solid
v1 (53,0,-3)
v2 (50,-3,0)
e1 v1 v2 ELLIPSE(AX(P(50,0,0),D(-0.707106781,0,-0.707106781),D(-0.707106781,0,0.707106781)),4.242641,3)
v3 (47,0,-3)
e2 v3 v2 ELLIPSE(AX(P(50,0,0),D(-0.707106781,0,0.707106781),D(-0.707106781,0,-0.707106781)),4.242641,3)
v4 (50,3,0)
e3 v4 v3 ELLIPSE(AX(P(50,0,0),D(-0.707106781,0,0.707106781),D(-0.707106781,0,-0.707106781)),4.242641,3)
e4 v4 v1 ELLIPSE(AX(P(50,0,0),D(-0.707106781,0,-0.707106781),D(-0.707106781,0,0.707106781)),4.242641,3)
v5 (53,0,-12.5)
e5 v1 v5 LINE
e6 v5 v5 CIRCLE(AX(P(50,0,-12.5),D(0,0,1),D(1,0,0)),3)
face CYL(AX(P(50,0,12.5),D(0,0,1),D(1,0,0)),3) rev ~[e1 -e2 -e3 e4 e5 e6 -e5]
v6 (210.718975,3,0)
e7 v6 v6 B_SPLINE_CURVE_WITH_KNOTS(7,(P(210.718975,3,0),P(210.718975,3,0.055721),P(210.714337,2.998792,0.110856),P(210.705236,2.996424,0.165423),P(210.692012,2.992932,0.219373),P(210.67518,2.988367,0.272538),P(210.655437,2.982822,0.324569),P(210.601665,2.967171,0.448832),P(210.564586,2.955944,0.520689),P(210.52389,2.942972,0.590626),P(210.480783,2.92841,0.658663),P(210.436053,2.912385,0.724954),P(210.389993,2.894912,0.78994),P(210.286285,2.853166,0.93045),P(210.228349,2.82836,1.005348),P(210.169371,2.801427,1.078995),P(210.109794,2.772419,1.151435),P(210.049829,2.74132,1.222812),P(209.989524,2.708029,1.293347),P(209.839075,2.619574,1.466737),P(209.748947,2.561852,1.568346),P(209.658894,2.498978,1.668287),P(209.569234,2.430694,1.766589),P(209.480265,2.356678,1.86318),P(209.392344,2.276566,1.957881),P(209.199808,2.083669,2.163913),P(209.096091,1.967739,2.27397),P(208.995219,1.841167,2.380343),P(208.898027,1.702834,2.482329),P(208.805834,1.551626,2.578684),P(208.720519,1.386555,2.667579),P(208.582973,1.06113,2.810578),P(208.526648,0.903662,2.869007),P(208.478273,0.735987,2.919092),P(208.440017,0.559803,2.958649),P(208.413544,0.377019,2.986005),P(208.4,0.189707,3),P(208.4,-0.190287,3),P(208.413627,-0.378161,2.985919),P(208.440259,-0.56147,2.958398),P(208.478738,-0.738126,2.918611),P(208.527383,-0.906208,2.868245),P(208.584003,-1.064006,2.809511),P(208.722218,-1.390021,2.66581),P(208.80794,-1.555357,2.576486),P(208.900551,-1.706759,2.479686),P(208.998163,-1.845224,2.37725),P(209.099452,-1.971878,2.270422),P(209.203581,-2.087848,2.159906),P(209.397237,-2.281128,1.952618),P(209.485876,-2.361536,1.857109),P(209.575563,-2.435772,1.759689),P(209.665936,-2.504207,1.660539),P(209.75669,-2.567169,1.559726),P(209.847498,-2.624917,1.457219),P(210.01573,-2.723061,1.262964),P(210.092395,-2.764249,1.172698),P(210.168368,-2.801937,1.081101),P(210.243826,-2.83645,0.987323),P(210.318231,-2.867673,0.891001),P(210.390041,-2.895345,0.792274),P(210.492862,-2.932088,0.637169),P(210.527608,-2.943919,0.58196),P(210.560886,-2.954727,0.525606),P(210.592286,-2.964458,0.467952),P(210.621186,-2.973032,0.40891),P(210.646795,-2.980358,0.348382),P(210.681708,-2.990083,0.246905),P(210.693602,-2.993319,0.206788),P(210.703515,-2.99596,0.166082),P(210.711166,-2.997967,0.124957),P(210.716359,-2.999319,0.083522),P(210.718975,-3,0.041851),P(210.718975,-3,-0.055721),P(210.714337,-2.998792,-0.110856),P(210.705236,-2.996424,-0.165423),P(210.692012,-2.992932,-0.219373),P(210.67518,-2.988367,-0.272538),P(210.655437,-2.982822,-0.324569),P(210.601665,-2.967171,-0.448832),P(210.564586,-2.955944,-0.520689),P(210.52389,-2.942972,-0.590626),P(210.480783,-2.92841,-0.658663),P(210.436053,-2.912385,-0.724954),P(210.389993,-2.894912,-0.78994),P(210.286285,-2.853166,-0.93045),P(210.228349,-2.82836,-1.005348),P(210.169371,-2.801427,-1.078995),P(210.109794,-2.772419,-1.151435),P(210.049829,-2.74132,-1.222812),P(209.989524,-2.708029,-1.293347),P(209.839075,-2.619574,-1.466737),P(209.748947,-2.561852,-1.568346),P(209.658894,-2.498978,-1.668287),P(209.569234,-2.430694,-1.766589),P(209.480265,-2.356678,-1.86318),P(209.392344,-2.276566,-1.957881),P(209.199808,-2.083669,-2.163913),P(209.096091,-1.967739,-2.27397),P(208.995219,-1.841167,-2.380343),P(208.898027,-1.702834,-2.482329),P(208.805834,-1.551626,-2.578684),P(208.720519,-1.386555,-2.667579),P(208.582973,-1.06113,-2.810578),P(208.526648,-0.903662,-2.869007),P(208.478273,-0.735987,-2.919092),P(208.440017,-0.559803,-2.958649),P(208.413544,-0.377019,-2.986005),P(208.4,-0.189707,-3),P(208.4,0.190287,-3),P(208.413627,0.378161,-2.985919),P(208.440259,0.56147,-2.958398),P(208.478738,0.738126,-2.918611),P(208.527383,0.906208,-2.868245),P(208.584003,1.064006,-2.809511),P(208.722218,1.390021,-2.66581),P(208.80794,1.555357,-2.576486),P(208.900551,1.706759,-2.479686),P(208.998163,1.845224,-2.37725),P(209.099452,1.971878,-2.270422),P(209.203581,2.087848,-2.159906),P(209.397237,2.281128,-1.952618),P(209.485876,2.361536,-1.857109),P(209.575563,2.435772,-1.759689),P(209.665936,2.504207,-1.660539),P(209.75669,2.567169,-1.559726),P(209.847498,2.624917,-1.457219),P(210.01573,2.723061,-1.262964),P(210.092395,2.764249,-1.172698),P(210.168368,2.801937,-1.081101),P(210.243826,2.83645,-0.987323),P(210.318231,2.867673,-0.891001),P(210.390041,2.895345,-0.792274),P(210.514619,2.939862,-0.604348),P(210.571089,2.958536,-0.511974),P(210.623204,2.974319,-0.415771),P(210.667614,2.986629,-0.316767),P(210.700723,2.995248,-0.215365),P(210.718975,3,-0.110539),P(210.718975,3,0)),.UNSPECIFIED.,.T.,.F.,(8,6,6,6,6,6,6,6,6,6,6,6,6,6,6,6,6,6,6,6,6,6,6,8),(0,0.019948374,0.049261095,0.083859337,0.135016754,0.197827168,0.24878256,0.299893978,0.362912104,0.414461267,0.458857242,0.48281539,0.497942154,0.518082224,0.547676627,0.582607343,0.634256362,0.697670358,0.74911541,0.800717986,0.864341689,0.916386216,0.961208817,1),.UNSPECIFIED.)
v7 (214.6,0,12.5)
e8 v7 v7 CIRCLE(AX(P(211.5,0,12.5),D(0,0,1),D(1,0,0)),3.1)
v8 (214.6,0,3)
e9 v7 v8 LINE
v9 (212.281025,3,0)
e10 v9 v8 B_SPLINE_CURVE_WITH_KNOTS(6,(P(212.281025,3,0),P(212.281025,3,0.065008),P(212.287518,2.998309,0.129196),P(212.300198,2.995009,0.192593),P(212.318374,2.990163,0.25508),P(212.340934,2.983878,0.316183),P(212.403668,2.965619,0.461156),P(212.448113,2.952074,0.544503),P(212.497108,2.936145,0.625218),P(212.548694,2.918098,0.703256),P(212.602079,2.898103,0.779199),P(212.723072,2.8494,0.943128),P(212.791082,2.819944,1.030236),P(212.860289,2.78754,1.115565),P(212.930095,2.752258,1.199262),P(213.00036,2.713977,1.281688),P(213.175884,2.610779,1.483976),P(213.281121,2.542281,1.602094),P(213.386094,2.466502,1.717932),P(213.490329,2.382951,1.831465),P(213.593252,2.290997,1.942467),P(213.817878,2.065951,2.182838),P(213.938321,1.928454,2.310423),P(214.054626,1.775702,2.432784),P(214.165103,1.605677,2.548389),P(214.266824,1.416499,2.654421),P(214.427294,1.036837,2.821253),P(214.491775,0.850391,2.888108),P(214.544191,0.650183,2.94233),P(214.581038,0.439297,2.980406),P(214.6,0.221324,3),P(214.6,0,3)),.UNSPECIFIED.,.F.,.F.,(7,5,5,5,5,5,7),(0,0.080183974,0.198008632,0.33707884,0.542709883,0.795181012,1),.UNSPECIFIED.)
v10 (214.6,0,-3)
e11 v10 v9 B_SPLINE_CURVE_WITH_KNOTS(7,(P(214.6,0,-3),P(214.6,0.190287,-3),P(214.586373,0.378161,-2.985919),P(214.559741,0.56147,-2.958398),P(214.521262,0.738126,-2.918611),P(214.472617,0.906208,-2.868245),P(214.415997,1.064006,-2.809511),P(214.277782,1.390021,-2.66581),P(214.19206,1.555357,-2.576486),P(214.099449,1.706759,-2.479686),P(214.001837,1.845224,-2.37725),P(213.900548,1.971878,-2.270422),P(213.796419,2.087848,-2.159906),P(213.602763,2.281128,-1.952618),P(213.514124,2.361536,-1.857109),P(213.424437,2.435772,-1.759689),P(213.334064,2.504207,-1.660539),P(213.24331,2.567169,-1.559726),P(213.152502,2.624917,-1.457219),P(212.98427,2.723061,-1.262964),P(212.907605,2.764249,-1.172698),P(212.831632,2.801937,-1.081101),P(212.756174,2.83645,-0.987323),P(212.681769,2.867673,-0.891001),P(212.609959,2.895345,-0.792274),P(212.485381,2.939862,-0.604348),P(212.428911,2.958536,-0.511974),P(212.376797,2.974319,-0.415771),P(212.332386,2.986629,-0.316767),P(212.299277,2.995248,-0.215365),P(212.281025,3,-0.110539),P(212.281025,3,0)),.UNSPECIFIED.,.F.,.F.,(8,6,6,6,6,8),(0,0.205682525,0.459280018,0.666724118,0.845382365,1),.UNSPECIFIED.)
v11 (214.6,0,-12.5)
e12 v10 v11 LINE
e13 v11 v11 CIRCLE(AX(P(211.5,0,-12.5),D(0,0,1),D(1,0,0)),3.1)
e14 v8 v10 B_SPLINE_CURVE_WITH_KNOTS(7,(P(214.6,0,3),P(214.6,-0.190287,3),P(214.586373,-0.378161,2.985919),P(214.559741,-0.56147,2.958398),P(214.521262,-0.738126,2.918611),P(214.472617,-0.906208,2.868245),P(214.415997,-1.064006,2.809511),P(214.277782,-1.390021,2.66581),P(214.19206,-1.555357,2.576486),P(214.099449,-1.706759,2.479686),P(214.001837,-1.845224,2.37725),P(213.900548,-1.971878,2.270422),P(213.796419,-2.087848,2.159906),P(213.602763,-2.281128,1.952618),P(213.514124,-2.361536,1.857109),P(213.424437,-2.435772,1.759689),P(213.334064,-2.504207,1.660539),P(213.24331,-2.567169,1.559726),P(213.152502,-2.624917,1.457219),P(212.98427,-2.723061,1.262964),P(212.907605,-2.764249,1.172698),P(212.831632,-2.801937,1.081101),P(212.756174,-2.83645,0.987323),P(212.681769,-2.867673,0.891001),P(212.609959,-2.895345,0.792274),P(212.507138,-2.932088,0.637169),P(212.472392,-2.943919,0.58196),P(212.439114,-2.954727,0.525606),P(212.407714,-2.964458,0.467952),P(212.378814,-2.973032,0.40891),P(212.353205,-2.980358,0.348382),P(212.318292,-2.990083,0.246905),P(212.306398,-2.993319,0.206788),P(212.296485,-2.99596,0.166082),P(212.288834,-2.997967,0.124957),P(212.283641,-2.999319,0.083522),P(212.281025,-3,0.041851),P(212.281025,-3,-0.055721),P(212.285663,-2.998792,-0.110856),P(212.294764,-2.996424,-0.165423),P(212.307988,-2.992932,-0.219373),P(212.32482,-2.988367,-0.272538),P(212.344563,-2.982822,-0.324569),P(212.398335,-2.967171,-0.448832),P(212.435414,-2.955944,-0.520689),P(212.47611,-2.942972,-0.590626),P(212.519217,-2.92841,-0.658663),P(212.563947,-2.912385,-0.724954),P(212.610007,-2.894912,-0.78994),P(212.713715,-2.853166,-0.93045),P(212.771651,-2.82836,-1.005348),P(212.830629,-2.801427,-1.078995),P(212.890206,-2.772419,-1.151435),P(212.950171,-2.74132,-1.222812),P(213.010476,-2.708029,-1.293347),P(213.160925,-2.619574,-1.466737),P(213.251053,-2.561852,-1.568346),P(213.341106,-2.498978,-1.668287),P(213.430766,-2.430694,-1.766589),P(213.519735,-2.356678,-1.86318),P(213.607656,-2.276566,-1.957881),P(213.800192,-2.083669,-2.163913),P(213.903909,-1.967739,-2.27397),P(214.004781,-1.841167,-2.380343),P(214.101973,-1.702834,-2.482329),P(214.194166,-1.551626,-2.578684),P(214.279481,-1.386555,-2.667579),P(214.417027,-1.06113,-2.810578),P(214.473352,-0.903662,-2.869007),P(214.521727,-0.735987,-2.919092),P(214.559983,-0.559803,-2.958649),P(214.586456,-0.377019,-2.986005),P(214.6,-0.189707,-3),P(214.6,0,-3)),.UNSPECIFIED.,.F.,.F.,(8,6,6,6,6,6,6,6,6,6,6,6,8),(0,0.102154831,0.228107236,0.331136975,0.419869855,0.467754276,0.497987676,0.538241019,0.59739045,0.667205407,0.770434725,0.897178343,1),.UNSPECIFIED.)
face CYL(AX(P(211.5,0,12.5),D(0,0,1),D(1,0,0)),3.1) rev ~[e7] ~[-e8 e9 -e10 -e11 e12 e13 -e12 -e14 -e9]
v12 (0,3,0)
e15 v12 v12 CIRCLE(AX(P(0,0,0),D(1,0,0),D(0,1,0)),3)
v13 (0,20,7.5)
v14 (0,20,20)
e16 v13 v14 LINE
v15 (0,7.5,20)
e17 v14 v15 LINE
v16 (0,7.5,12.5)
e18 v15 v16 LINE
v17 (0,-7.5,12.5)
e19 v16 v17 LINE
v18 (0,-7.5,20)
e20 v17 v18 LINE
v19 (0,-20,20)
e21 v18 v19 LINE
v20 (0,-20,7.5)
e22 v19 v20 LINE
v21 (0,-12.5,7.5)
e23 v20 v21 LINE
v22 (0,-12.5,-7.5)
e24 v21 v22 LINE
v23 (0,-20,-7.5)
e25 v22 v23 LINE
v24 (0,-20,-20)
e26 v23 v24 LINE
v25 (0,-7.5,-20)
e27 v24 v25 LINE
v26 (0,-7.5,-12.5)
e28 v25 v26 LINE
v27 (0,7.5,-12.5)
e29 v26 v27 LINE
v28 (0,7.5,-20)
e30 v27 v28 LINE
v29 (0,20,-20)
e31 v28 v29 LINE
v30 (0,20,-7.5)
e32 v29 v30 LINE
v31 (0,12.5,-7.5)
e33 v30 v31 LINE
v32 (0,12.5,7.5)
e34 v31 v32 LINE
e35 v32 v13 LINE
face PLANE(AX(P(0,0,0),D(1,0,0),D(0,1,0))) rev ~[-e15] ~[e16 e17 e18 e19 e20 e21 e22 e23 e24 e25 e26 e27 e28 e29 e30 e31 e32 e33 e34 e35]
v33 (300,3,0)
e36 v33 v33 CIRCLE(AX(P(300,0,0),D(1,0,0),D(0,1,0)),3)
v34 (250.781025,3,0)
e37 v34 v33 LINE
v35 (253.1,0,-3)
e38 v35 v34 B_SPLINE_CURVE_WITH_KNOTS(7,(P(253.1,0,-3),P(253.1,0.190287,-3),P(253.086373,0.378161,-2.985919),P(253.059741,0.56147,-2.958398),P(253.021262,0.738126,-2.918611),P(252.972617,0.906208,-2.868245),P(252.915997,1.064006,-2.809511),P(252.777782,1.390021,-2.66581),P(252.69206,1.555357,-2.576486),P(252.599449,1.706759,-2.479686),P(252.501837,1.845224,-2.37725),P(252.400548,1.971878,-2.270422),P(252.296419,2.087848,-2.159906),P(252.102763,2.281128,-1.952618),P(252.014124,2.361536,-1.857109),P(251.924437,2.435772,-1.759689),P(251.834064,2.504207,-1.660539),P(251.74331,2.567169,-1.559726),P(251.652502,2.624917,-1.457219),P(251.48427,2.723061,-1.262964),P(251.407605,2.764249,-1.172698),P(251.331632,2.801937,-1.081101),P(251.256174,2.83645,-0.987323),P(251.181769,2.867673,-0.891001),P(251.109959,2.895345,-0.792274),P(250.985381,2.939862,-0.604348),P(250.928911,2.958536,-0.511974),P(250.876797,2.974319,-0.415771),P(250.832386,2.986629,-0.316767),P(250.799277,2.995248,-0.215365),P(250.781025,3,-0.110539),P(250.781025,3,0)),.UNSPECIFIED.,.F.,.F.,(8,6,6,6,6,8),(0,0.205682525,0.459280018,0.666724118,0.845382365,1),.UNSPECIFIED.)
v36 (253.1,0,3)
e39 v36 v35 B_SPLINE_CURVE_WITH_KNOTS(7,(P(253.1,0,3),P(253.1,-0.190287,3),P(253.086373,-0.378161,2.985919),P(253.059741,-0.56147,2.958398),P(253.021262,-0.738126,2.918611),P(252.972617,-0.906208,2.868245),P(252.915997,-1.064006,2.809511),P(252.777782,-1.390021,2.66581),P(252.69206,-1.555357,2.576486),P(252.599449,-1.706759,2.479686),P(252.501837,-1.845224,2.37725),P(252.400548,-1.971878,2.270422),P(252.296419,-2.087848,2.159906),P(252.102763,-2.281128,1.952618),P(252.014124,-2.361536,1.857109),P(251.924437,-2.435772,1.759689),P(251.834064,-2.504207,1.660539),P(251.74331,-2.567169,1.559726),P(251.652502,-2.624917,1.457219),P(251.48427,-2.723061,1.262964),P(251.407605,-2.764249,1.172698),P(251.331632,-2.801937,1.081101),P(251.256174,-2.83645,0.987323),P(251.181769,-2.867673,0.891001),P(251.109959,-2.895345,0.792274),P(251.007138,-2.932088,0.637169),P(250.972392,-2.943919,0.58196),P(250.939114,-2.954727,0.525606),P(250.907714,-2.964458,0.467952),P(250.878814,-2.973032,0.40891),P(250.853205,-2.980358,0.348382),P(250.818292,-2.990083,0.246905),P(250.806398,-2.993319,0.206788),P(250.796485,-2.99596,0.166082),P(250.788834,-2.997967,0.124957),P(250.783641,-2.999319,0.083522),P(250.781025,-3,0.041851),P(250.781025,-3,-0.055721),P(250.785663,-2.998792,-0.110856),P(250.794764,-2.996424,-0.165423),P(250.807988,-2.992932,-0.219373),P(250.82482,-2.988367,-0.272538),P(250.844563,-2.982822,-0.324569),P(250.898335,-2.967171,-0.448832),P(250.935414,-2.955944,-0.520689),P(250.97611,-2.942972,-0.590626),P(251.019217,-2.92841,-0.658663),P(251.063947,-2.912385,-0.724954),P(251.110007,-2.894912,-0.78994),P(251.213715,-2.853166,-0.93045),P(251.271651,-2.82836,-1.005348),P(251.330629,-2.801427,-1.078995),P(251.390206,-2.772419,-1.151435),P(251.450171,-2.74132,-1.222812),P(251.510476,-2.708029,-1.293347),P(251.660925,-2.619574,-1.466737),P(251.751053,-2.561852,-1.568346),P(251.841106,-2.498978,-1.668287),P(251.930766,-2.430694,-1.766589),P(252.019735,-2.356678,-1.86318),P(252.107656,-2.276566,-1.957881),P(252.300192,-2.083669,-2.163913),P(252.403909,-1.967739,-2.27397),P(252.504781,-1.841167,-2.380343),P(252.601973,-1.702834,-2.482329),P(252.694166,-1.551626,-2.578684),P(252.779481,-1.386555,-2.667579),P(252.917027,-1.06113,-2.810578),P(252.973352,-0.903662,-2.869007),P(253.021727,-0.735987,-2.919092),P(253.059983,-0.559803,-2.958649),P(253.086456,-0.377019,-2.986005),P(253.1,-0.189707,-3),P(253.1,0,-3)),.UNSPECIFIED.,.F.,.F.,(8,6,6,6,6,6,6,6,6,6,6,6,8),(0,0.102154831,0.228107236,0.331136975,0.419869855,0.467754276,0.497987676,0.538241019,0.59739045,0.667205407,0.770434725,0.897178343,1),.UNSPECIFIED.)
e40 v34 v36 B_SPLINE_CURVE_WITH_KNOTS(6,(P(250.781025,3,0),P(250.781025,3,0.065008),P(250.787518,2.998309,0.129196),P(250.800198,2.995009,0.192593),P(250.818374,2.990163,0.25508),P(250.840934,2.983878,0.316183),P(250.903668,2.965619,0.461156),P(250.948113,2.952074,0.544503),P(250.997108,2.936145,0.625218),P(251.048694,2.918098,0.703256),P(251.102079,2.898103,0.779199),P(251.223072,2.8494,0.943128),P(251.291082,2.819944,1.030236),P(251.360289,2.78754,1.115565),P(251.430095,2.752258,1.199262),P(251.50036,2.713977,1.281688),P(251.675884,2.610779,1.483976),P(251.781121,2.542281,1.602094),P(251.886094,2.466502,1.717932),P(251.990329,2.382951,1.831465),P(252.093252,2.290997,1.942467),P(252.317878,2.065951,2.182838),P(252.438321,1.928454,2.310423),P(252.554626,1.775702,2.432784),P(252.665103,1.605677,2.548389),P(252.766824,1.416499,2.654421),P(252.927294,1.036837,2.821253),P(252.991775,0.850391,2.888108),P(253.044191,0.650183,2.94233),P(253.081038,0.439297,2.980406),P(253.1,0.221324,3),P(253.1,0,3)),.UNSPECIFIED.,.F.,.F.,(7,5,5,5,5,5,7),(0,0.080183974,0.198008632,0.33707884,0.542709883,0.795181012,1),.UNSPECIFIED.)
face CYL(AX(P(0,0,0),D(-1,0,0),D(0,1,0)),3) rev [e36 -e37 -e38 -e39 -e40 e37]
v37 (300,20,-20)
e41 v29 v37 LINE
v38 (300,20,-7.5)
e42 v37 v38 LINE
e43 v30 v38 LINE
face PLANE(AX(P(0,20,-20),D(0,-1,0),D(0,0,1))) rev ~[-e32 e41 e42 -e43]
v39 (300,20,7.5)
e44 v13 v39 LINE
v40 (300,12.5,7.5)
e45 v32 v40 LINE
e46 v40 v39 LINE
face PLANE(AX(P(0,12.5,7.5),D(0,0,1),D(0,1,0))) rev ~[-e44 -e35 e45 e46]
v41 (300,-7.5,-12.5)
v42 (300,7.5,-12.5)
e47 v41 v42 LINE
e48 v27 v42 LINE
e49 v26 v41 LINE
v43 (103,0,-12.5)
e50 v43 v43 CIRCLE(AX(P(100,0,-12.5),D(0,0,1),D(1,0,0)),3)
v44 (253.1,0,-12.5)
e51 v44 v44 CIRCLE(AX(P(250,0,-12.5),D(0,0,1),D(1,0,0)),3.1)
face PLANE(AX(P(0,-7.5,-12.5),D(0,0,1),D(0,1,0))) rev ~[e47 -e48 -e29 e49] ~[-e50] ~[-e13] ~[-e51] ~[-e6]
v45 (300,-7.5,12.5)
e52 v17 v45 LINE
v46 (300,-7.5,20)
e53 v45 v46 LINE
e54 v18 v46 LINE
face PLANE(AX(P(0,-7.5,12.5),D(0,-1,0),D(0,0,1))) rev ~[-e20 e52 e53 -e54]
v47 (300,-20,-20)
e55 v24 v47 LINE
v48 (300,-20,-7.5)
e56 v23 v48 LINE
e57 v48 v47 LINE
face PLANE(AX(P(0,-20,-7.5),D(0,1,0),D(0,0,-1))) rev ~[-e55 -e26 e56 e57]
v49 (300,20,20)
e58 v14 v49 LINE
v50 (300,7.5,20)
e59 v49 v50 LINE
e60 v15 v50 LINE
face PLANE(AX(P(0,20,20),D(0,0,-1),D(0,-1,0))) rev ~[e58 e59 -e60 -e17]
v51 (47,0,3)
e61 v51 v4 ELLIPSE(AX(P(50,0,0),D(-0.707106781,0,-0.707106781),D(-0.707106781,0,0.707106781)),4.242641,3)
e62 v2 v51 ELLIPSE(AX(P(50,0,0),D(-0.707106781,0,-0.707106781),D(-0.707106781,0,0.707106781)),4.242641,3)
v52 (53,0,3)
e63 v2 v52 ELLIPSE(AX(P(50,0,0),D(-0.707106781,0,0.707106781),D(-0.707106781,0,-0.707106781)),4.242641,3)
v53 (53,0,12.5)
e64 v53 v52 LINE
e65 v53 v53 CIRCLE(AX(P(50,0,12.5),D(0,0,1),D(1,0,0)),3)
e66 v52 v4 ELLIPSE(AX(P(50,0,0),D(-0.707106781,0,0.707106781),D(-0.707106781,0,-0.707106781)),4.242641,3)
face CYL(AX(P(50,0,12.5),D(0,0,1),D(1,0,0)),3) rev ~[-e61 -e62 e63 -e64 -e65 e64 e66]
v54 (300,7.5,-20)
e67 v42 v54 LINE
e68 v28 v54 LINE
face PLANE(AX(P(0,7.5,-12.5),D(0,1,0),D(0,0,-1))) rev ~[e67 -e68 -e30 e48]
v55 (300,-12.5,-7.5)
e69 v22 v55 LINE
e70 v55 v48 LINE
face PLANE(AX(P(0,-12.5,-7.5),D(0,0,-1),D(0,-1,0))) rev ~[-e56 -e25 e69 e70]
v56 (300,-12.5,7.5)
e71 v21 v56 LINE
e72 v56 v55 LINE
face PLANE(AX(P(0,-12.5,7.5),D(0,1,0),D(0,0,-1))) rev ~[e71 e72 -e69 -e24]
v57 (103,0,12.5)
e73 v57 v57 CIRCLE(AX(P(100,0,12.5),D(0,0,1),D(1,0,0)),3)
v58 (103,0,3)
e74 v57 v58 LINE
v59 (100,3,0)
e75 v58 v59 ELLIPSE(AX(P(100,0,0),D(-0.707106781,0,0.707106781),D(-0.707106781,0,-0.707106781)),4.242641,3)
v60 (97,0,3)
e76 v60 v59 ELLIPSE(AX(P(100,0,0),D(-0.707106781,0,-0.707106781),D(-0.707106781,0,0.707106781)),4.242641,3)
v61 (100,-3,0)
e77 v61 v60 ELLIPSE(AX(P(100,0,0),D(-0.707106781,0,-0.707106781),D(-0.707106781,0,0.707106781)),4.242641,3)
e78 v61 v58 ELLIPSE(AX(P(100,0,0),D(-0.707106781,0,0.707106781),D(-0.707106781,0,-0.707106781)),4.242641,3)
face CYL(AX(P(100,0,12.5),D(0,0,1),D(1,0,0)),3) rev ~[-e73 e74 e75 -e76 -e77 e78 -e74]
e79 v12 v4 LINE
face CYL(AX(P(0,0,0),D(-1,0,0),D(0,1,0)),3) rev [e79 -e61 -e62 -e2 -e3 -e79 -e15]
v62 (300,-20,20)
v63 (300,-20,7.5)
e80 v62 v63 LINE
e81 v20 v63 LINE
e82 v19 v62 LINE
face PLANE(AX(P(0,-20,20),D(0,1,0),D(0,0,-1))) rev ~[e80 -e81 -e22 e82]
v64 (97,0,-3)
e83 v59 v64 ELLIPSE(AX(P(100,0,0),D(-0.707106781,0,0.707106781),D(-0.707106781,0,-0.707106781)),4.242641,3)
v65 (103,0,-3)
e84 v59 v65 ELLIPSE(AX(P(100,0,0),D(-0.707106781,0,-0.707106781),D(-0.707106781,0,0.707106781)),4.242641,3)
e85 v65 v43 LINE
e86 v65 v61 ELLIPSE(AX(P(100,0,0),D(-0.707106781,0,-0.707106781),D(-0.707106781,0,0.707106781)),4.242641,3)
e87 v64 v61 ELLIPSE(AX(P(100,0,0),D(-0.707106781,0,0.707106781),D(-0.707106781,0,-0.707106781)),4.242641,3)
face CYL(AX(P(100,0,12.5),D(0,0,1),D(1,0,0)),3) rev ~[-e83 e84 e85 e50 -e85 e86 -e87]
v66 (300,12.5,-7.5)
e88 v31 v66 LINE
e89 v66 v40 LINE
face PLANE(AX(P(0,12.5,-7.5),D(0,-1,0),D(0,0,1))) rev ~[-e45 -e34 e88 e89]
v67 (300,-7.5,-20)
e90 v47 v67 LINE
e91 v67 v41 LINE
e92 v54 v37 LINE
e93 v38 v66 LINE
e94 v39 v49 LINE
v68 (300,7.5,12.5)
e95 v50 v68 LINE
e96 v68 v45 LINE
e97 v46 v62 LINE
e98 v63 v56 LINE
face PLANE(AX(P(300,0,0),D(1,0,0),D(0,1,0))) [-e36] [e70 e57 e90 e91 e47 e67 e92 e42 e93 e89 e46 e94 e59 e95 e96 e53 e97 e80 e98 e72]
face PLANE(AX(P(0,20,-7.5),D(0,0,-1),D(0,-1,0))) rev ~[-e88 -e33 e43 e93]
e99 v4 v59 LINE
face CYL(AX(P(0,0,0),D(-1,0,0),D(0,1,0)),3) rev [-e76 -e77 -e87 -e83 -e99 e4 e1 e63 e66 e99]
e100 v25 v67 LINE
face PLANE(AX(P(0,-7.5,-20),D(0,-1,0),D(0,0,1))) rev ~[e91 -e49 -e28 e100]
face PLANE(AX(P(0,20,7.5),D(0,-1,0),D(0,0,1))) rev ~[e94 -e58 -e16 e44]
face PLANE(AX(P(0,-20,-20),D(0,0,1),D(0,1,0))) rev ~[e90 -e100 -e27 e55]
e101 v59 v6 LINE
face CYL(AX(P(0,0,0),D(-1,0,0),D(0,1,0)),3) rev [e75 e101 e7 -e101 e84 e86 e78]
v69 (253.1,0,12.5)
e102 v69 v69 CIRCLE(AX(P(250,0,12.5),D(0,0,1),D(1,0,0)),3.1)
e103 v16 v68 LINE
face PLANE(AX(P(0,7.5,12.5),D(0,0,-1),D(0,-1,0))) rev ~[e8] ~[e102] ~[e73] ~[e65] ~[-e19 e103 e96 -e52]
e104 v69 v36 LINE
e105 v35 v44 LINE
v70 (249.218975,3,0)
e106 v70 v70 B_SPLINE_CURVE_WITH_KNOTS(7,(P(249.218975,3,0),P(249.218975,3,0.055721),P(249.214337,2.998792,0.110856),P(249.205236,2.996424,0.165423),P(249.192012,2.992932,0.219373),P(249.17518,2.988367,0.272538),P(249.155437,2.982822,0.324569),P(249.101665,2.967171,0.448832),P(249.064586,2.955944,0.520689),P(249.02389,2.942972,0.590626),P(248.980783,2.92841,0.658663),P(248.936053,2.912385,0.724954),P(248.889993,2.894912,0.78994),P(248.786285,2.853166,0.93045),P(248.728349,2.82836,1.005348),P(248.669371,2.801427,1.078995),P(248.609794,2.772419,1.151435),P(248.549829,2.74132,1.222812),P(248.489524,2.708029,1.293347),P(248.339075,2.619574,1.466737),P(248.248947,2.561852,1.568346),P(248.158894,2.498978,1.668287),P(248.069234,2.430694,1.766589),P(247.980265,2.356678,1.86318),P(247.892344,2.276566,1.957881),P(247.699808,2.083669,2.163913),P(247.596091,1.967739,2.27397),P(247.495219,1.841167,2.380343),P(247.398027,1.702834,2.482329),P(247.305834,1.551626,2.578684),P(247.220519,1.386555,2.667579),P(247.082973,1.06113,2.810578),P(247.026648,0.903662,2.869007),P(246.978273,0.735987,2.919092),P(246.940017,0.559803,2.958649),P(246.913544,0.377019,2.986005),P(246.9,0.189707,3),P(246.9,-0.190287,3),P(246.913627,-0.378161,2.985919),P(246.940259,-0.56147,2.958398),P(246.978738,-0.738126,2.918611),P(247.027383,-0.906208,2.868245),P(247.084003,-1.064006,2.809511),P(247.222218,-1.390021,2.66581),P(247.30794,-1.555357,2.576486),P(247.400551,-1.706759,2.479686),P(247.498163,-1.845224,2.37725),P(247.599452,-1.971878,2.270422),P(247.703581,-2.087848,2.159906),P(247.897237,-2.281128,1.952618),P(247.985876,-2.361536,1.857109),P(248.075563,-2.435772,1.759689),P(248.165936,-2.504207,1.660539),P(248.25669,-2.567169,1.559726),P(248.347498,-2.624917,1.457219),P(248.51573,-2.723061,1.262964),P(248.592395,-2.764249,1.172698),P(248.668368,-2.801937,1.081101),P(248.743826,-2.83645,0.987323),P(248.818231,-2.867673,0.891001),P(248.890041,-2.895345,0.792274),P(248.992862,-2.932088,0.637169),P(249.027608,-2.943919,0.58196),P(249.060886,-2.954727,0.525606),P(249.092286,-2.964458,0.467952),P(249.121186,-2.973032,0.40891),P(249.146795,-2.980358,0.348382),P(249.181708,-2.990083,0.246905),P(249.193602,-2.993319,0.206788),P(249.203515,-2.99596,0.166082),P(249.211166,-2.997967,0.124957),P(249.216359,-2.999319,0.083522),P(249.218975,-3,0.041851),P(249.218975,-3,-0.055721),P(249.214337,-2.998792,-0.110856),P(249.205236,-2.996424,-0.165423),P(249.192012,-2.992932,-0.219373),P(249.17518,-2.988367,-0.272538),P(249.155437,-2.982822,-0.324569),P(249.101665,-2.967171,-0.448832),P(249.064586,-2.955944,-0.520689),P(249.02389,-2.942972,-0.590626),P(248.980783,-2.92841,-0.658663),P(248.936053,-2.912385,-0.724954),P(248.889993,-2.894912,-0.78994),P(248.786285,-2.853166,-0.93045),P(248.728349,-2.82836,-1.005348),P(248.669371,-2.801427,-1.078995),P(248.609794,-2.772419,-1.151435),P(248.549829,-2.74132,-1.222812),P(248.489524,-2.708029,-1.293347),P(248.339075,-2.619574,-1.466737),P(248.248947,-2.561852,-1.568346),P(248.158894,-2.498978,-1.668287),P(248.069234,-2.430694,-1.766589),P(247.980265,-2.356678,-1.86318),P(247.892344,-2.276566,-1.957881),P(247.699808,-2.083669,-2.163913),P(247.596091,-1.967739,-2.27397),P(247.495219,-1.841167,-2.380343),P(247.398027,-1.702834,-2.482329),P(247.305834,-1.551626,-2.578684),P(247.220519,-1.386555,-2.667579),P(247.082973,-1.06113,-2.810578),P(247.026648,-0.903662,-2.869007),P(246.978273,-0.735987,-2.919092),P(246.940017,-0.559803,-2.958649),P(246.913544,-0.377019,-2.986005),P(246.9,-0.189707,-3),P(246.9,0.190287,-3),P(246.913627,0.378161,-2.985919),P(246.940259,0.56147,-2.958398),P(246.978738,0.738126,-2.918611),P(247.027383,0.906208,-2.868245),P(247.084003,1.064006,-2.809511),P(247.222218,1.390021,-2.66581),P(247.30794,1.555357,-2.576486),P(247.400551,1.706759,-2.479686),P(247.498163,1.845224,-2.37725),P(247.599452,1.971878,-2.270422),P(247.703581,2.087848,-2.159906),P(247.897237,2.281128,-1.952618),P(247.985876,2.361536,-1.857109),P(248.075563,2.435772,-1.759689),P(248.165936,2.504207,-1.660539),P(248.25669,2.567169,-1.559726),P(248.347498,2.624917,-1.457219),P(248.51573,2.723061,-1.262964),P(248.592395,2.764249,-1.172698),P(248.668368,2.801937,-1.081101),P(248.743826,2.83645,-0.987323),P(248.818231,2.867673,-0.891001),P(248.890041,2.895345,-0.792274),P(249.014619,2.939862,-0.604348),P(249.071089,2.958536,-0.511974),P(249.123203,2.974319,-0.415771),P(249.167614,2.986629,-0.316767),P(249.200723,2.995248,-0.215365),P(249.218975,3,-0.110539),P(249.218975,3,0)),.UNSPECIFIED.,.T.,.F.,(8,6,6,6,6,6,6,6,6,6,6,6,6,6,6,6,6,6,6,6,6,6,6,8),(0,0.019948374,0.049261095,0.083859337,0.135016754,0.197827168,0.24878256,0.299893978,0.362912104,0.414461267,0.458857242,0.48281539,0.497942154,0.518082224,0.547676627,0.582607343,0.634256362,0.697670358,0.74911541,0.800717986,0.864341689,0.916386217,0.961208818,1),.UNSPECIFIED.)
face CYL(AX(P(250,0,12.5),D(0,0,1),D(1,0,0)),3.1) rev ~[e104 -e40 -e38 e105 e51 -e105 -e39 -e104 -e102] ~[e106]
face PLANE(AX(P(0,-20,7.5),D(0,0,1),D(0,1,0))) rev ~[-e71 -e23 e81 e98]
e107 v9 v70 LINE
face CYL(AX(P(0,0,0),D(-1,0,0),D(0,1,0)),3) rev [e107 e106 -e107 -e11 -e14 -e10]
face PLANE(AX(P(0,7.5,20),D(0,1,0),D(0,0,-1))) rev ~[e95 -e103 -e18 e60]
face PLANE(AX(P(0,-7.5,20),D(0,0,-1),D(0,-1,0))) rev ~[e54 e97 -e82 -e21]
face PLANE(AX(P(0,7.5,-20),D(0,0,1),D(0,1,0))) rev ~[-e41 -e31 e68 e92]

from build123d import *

# Parameters (mm, degrees)
F0_R     = 3
F1_DEPTH = 300
F2_R     = 3.1
F3_DEPTH = 50
F4_R     = 3
F5_DEPTH = 50


with BuildPart() as f1:
    # F0 (on Right) → F1 (new body)
    with BuildSketch(Plane.YZ):
        Polygon((20, 7.5), (20, 20), (7.5, 20), (7.5, 12.5), (-7.5, 12.5), (-7.5, 20), (-20, 20), (-20, 7.5), (-12.5, 7.5), (-12.5, -7.5), (-20, -7.5), (-20, -20), (-7.5, -20), (-7.5, -12.5), (7.5, -12.5), (7.5, -20), (20, -20), (20, -7.5), (12.5, -7.5), (12.5, 7.5), align=None)
        Circle(F0_R, mode=Mode.SUBTRACT)
    extrude(amount=F1_DEPTH)

    # F2 (on face) → F3 (cut)
    with BuildSketch(Plane.XY.offset(12.5)):
        with Locations((250, 0)):
            Circle(F2_R)
        with Locations((211.5, 0)):
            Circle(F2_R)
    extrude(amount=-F3_DEPTH, mode=Mode.SUBTRACT)

    # F4 (on face) → F5 (cut)
    with BuildSketch(Plane.XY.offset(12.5)):
        with Locations((50, 0)):
            Circle(F4_R)
        with Locations((100, 0)):
            Circle(F4_R)
    extrude(amount=-F5_DEPTH, mode=Mode.SUBTRACT)


solid = f1.part
